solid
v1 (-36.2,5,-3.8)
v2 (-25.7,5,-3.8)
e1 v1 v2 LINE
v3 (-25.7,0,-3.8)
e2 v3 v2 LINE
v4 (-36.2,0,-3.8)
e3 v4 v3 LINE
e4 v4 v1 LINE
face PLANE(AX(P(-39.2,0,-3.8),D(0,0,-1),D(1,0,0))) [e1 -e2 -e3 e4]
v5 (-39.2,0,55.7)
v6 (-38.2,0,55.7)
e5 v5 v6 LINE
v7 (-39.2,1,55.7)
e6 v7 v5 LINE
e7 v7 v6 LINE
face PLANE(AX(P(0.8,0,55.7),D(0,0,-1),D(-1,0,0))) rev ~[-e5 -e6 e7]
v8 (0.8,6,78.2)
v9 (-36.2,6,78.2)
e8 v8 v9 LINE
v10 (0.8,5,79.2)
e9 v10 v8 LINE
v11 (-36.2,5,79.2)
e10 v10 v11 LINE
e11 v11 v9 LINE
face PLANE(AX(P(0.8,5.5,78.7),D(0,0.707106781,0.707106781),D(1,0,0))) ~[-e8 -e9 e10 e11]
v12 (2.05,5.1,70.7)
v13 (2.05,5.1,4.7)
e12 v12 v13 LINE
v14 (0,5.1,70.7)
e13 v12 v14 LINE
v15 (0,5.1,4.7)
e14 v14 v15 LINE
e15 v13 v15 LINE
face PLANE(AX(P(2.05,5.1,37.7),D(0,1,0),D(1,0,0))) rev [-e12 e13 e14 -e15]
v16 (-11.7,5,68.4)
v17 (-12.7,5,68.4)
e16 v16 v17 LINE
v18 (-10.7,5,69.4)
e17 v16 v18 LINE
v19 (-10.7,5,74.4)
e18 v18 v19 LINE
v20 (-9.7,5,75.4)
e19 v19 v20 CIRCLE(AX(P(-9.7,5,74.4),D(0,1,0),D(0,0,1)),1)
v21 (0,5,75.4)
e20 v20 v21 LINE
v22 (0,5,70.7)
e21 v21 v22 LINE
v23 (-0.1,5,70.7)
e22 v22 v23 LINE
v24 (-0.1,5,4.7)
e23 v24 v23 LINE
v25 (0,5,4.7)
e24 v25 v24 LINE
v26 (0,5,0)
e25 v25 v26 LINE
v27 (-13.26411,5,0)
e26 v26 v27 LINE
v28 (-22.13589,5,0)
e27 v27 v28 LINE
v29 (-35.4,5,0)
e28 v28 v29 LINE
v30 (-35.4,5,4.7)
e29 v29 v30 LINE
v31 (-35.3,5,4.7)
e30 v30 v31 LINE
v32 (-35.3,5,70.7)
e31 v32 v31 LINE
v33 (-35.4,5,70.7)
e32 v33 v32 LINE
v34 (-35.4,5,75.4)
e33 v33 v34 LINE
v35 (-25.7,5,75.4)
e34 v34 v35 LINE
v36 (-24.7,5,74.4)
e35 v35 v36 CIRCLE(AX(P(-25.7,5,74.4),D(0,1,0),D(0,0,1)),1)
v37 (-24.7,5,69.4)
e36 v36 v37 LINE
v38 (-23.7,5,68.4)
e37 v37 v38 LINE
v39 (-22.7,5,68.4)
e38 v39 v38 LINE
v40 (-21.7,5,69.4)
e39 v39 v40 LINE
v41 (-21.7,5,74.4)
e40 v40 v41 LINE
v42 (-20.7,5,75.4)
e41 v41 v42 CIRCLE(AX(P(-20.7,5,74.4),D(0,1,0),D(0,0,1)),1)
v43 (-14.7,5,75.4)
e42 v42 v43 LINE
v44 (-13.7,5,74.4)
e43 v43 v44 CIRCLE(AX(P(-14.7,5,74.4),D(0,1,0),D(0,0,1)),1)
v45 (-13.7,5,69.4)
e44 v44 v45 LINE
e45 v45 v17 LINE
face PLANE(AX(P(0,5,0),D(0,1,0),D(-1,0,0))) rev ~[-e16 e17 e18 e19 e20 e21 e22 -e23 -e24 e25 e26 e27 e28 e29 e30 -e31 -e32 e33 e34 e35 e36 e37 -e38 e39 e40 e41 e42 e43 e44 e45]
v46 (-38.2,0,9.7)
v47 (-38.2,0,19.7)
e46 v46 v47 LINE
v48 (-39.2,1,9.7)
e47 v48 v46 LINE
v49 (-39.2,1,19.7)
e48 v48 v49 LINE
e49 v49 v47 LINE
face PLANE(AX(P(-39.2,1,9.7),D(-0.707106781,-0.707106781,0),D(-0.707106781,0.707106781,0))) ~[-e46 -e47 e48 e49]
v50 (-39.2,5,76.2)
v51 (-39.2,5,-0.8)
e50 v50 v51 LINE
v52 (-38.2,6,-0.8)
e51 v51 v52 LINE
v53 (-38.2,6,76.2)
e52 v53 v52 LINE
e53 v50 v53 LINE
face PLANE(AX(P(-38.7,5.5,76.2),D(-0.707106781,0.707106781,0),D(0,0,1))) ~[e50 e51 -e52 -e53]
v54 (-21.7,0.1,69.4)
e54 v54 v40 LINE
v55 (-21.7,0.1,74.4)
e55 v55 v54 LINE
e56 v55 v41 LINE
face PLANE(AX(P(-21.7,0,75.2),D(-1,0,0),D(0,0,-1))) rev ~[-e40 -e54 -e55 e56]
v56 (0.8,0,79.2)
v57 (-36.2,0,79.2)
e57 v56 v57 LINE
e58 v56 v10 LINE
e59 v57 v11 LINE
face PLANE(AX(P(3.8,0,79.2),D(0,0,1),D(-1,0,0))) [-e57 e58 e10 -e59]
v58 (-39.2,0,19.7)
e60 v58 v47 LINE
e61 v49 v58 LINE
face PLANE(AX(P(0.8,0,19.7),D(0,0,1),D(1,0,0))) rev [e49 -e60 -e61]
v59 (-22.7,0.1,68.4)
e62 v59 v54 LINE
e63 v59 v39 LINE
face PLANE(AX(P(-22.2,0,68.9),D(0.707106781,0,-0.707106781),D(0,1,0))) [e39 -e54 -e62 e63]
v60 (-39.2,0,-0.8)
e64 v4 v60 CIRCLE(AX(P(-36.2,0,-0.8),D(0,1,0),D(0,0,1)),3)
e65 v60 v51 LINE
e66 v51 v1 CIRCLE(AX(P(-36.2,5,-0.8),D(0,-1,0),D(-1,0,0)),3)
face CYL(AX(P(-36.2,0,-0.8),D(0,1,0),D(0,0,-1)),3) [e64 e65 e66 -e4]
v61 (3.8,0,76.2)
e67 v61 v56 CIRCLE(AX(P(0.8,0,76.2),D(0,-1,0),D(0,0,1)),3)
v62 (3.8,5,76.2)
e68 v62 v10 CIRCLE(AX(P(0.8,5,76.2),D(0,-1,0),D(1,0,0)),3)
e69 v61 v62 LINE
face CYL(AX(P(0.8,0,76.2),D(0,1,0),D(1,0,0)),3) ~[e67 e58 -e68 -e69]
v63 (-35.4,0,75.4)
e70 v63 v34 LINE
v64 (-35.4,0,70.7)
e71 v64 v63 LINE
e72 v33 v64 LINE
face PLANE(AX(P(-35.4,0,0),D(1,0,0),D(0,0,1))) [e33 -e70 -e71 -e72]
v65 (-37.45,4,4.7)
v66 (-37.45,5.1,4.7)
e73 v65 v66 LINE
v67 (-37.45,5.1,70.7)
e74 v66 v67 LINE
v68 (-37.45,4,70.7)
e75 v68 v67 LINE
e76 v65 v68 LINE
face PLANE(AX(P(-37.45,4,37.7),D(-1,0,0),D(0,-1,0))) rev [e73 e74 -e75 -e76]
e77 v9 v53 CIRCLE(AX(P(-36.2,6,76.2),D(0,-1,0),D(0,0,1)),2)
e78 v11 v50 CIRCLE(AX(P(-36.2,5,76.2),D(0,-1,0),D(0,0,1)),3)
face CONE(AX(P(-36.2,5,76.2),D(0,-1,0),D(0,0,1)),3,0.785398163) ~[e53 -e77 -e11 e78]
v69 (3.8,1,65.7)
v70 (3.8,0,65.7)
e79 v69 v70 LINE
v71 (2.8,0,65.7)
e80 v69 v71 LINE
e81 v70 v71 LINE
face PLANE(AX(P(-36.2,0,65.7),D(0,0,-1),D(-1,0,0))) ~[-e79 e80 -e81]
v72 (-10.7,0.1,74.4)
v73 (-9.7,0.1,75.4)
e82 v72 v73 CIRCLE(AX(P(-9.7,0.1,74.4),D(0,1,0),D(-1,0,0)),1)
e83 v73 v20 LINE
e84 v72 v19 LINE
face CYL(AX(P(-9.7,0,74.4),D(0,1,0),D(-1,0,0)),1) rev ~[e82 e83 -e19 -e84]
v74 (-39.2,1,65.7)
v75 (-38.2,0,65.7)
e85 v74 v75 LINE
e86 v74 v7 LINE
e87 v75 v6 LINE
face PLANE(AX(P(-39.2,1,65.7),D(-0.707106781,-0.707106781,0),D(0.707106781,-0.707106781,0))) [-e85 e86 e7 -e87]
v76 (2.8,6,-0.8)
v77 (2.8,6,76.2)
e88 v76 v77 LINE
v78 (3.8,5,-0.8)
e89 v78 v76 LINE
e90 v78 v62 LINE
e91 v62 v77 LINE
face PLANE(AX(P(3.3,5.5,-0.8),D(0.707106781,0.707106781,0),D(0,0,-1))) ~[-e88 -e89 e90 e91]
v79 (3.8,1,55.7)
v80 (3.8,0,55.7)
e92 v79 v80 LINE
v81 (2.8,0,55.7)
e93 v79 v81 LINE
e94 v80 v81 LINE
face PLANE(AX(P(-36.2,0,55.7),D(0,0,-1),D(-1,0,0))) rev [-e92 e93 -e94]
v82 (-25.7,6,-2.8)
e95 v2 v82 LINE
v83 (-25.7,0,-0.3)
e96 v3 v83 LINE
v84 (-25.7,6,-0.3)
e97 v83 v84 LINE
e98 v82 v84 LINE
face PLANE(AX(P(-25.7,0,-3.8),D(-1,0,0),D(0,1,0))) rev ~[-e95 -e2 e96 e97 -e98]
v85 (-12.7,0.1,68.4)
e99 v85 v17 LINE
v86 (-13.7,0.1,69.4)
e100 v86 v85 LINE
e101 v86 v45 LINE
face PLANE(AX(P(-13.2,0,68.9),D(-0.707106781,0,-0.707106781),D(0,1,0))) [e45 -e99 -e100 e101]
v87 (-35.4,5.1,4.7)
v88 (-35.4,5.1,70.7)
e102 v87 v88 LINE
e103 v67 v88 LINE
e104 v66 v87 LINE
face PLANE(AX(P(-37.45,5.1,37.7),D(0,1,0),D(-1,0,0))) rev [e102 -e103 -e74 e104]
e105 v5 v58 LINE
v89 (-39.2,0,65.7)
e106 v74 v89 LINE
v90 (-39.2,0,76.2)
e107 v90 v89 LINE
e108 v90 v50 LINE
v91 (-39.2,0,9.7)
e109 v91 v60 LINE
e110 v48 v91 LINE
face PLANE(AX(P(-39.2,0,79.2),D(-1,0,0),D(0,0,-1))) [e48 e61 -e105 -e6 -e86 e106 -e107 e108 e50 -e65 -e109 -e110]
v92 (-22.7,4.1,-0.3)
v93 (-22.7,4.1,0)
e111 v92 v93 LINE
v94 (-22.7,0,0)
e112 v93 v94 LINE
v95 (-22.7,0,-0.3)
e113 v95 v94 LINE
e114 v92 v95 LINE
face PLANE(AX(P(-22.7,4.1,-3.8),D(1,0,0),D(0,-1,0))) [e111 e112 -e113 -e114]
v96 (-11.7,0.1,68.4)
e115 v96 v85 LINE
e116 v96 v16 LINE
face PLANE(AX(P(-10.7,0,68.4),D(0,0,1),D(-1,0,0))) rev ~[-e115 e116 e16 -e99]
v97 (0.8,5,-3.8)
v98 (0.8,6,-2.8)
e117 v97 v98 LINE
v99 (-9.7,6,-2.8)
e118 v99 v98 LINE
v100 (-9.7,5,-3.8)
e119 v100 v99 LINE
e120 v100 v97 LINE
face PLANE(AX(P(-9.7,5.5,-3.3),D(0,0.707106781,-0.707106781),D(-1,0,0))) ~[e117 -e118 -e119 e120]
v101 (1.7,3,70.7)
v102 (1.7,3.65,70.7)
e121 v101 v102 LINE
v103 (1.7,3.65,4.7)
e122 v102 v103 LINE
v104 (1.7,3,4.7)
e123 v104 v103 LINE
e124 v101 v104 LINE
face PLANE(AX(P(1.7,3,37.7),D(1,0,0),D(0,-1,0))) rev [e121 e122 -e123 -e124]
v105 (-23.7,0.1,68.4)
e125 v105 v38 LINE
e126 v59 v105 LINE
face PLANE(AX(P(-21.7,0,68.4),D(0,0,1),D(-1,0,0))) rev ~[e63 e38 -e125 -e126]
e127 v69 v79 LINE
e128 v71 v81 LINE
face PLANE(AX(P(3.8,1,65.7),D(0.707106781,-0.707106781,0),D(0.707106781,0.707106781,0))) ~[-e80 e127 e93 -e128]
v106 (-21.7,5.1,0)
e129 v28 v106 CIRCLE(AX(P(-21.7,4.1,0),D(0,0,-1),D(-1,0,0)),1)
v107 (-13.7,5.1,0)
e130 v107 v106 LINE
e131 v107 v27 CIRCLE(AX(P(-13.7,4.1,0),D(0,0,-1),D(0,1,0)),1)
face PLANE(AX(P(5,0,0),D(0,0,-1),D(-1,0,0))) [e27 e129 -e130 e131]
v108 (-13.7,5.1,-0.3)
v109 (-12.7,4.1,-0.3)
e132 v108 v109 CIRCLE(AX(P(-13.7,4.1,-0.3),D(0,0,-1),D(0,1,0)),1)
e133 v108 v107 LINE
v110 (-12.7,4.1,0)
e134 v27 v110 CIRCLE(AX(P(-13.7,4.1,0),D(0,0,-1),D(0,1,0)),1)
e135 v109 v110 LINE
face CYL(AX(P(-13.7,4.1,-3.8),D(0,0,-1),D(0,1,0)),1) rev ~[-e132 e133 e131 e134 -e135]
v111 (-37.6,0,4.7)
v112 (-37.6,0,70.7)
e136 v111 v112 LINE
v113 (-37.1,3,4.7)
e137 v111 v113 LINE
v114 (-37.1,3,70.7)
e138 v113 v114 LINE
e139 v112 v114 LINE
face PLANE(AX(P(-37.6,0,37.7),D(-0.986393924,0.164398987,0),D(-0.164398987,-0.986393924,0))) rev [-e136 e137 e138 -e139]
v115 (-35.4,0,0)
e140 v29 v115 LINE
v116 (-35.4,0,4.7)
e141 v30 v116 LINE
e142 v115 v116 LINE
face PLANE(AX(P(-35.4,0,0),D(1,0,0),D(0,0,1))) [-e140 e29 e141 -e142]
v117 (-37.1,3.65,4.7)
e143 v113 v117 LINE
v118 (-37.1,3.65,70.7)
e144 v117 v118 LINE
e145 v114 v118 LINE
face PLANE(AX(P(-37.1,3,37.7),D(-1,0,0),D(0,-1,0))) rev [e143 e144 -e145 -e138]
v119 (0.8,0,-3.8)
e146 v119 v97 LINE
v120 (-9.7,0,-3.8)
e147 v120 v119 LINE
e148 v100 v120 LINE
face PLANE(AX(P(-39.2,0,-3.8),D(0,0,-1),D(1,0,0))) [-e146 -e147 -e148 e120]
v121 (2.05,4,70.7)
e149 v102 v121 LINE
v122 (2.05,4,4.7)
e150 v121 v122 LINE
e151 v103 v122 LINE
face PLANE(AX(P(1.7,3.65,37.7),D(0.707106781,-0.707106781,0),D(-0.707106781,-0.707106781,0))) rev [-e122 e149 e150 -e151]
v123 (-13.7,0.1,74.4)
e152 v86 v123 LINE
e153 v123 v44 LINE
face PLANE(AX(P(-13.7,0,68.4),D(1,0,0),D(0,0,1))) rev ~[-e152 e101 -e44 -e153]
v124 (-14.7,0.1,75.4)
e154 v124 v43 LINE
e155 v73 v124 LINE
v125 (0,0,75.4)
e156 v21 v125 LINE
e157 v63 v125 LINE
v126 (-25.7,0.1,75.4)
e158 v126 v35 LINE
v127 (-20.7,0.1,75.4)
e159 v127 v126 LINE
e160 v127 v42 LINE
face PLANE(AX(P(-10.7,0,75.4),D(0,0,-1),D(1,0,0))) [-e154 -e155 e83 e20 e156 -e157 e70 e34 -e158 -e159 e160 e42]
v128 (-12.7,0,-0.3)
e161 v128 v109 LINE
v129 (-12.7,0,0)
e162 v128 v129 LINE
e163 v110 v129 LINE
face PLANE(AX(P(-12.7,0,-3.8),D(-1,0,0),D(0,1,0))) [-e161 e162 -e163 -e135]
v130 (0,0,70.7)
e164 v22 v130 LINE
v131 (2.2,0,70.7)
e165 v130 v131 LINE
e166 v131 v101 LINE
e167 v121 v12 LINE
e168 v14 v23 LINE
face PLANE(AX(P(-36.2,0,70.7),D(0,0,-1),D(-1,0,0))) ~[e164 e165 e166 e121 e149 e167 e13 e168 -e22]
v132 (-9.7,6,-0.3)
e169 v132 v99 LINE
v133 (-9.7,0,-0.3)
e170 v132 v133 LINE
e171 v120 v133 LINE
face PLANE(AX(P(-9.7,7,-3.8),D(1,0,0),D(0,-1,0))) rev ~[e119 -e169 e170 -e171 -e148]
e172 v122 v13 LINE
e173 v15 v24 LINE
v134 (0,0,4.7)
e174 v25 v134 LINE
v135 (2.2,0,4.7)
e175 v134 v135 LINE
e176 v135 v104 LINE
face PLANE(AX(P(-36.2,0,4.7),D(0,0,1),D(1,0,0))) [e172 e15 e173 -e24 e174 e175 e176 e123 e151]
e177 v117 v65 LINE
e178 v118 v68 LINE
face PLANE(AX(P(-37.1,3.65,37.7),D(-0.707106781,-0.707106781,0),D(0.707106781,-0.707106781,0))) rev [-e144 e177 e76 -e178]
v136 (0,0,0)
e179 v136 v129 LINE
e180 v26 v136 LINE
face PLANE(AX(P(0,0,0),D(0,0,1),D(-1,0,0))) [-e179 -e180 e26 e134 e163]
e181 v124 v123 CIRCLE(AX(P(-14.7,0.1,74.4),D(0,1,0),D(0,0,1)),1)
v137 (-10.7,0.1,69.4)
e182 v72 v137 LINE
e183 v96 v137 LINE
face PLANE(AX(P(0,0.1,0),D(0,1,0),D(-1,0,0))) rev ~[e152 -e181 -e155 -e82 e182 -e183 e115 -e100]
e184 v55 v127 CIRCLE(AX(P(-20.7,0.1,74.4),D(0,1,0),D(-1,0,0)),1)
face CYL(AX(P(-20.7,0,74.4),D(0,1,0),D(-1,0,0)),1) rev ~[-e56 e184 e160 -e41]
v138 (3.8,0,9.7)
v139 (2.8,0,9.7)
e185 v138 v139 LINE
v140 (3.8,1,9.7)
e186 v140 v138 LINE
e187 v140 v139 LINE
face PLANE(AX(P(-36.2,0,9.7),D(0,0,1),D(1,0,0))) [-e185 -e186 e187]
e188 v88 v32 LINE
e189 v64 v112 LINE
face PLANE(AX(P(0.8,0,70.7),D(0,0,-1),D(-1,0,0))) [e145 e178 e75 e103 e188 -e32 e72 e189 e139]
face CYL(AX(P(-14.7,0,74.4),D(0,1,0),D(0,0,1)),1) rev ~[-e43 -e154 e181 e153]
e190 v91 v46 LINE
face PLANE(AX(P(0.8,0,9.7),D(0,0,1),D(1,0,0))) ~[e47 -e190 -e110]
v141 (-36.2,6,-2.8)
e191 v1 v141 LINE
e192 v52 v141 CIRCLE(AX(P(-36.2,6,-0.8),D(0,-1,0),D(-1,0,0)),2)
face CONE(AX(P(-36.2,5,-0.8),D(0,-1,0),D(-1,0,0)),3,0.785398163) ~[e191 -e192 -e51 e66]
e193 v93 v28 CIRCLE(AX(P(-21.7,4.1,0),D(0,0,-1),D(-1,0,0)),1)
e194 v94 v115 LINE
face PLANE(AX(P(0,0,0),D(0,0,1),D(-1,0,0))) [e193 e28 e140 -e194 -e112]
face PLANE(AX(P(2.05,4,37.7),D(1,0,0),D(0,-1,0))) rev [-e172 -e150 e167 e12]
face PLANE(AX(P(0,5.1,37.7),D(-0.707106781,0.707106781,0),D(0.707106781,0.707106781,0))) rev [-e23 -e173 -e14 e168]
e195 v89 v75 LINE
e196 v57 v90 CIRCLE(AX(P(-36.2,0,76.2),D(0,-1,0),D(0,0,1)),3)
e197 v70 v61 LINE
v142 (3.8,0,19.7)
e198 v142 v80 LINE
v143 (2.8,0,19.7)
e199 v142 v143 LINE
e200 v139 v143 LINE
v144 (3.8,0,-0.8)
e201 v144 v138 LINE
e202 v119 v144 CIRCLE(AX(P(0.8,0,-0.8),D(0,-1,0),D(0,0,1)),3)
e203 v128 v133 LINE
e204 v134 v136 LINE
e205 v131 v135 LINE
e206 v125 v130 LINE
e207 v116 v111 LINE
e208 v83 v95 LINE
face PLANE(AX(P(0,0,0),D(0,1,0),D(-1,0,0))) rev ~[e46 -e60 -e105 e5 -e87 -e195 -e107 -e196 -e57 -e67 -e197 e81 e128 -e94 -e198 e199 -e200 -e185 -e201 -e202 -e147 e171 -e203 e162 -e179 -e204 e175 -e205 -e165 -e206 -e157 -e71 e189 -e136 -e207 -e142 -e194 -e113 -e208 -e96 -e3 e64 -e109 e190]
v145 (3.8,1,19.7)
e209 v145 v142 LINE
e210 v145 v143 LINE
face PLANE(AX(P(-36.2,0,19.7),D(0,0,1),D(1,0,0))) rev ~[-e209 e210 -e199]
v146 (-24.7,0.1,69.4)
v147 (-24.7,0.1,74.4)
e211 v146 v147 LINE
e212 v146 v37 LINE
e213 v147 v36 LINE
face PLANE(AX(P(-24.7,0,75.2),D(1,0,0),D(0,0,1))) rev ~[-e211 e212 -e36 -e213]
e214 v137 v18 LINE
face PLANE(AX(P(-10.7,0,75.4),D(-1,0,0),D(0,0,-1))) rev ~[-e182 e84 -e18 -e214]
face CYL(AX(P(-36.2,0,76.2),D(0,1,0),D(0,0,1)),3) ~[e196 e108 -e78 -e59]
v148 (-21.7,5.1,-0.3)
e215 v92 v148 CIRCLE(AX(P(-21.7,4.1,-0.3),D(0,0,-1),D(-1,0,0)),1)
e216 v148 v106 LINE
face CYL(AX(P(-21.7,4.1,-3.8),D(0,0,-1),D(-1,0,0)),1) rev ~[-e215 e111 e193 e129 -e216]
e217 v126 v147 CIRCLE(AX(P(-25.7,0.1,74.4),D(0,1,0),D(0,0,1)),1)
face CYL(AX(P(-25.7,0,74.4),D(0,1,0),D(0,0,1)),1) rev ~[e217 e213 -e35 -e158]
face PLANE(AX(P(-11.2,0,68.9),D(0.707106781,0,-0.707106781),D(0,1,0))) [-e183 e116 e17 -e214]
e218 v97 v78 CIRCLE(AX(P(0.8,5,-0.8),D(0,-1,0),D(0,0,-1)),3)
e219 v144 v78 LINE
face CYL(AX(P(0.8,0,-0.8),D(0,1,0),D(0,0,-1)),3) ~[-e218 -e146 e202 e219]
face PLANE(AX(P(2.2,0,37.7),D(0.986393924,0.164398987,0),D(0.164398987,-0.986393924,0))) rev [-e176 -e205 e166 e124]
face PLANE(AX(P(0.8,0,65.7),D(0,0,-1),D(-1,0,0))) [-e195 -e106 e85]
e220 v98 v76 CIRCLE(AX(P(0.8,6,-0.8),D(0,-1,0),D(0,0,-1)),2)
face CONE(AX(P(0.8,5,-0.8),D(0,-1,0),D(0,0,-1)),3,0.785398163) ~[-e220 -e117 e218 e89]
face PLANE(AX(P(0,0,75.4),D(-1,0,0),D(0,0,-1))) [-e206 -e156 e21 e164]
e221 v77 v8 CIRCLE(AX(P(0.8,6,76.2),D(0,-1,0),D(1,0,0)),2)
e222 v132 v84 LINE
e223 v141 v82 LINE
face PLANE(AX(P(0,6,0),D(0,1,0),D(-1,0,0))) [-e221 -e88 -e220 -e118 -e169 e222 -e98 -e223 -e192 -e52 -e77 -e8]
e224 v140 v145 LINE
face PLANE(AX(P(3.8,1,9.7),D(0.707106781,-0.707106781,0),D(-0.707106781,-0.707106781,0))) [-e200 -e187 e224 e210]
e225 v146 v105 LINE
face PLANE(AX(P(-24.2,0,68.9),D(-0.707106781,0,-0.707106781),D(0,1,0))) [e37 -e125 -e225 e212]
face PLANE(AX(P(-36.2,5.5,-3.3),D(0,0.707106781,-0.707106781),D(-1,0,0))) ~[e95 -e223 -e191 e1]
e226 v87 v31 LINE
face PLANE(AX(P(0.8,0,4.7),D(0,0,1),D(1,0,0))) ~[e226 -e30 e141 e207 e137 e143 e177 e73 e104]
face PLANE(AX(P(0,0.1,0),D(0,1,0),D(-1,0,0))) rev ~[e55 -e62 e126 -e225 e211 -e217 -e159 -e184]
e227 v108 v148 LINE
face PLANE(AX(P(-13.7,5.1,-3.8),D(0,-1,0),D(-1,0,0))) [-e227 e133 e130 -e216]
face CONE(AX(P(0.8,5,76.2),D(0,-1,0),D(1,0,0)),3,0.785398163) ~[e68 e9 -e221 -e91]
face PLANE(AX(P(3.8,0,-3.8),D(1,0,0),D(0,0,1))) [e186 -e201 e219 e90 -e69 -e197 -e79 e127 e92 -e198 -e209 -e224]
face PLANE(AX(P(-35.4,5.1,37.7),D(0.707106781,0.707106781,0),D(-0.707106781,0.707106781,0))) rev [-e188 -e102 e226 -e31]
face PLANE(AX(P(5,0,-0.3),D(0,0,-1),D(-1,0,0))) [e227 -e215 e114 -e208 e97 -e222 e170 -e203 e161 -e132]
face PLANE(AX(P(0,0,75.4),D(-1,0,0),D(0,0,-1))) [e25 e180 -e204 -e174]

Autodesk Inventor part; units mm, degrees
ref_plane "YZ Plane" through (0, 0, 0) normal (1, 0, 0) x (0, 1, 0)
sketch "Sketch1" plane through (0, 0, 0) normal (0, 1, 0) x (-1, 0, 0)
  line L0 (0, 0) -> (35.4, 0)
  line L1 (35.4, 0) -> (35.4, 75.4)
  line L2 (35.4, 75.4) -> (0, 75.4)
  line L3 (0, 75.4) -> (0, 0)
  line L4 (39.2, -3.8) -> (-3.8, -3.8)
  line L5 (-3.8, -3.8) -> (-3.8, 79.2)
  line L6 (-3.8, 79.2) -> (39.2, 79.2)
  line L7 (39.2, 79.2) -> (39.2, -3.8)
  line L8 (39.2, 37.7) -> (49.7975, 37.7) construction
  line L9 (17.7, 79.2) -> (17.7, 95.7522) construction
  line L10 (24.7, 75.4) -> (21.7, 75.4)
  line L11 (21.7, 75.4) -> (21.7, 68.4)
  line L12 (21.7, 68.4) -> (24.7, 68.4)
  line L13 (24.7, 68.4) -> (24.7, 75.4)
  line L14 (13.7, 75.4) -> (10.7, 75.4)
  line L15 (10.7, 75.4) -> (10.7, 68.4)
  line L16 (10.7, 68.4) -> (13.7, 68.4)
  line L17 (13.7, 68.4) -> (13.7, 75.4)
  line L18 (0.2, 75.2) -> (35.2, 75.2)
  line L19 (35.2, 75.2) -> (35.2, 0.2)
  line L20 (35.2, 0.2) -> (0.2, 0.2)
  line L21 (0.2, 0.2) -> (0.2, 75.2)
  point P0 (21.7, 75.4)
  point P1 (10.7, 75.4)
  dimension "d43" = 4
  dimension "d44" = 4
  dimension "d45" = 7
  dimension "d46" = 3
  dimension "d47" = 3
  dimension "d74" = 0.2
  dimension "d75" = 75
  dimension "d76" = 35
  dimension "d77" = 4
extrude "Extrusion1" add sketch "Sketch1" along normal blind 6 contours L3 L2 L15 L18 L21 L20 L19 L13 L1 L0 | L2 L17 L18 L15 | L13 L18 L11 L2 | L2 L11 L18 L17 | L18 L17 L16 L15 | L15 L16 L17 L18 L11 L12 L13 L19 L20 L21 | L13 L12 L11 L18 | L4 L5 L6 L7
extrude "Extrusion2" cut sketch "Sketch1" along normal blind 5 contours L3 L2 L15 L18 L21 L20 L19 L13 L1 L0 | L2 L11 L18 L17 | L15 L16 L17 L18 L11 L12 L13 L19 L20 L21
sketch "Sketch3" plane through (5, 0, -3.8) normal (0, 0, -1) x (-1, 0, 0)
  line L0 (22.7, 10) -> (22.7, 15.0736) construction
  line L1 (29.7, 8) -> (15.7, 8)
  line L2 (14.7, 7) -> (14.7, 0)
  line L3 (30.7, 0) -> (30.7, 7)
  arc A0 (30.7, 7) -> (29.7, 8) centre (29.7, 7) ccw
  arc A1 (15.7, 8) -> (14.7, 7) centre (15.7, 7) ccw
  line L4 (30.7, 0) -> (14.7, 0)
  line L5 (1.2, 0) -> (44.2, 0) projected
  line L6 (44.2, 0) -> (1.2, 0) projected
  line L7 (17.7, 0) -> (17.7, 4.1)
  line L8 (18.7, 5.1) -> (26.7, 5.1)
  line L9 (27.7, 4.1) -> (27.7, 0)
  arc A2 (18.7, 5.1) -> (17.7, 4.1) centre (18.7, 4.1) ccw
  arc A3 (27.7, 4.1) -> (26.7, 5.1) centre (26.7, 4.1) ccw
  line L10 (1.2, 0) -> (1.2, 6) projected
  line L11 (44.2, 0) -> (44.2, 6) projected
  point P0 (30.5, 8)
  point P1 (14.5, 8)
  point P2 (17.7, 0)
  dimension "d15" = 8
  dimension "d16" = 8
  dimension "d19" = 1
  dimension "d27" = 5.1
  dimension "d28" = 5
  dimension "d29" = 5
  dimension "d30" = 1
  dimension "d33" = 21.5
  dimension "d34" = 43
  dimension "d35" = 8
extrude "Extrusion3" cut sketch "Sketch3" against normal up to surface (3.8 mm away) contours L4 L7 A2 L8 A3 L9
extrude "Extrusion4" cut sketch "Sketch3" against normal blind 3.5 contours A0 L3 L4 L9 A3 L8 A2 L7 L2 A1 L1
fillet "Fillet1" radius 3 4 edges at (3.8, 3, -3.8) (-39.2, 3, -3.8) (3.8, 3, 79.2) (-39.2, 3, 79.2)
chamfer "Chamfer3" distance 1 angle 45 9 edges at (-30.95, 6, -3.8) (-4.45, 6, -3.8) (-38.3213, 6, -2.9213) (-39.2, 6, 37.7) (-38.3213, 6, 78.3213) (-17.7, 6, 79.2) (2.9213, 6, 78.3213) (3.8, 6, 37.7) (2.9213, 6, -2.9213)
fillet "Fillet2" radius 1 4 edges at (-24.7, 2.5, 75.4) (-21.7, 2.5, 75.4) (-13.7, 2.5, 75.4) (-10.7, 2.5, 75.4)
chamfer "Chamfer5" distance 1 angle 45 4 edges at (-24.7, 2.5, 68.4) (-21.7, 2.5, 68.4) (-13.7, 2.5, 68.4) (-10.7, 2.5, 68.4)
ref_plane "Work Plane2" through (0.8, 0, 67.7) normal (0, 0, -1) x (-1, 0, 0)
ref_plane "Work Plane1" through (0.8, 0, 37.7) normal (0, 0, -1) x (-1, 0, 0)
ref_plane "Work Plane3" through (-17.7, 0, 76.2) normal (1, 0, 0) x (0, 0, -1)
ref_plane "Work Plane4" through (0.8, 0, 65.7) normal (0, 0, -1) x (-1, 0, 0)
sketch "Sketch4" plane through (0.8, 0, 37.7) normal (0, 0, -1) x (-1, 0, 0)
  line L0 (36.2, 0) -> (36.2, 5) projected
  line L1 (36.2, 0) -> (37.8, 0) construction
  line L2 (40, 0) -> (36.2, 0) projected
  line L3 (37.8, 0) -> (37.8, 5) construction
  line L4 (38.15, 4.65) -> (38.15, 3.9) construction
  line L5 (37.8, 5) -> (36.2, 5) construction
  line L6 (37.8, 5) -> (38.15, 4.65) construction
  line L7 (38.15, 3.9) -> (37.8, 3.55) construction
  line L8 (38.4, 0) -> (37.9, 3)
  line L9 (37.9, 3) -> (37.9, 3.65)
  line L10 (37.9, 3.65) -> (38.25, 4)
  line L11 (38.25, 4) -> (38.25, 5.1)
  line L12 (36.2, 0) -> (0.8, 0) projected
  line L13 (38.4, 0) -> (36.2, 0)
  line L14 (36.2, 0) -> (36.2, 5)
  line L15 (38.25, 5.1) -> (36.2, 5.1)
  line L16 (36.2, 5.1) -> (36.2, 5)
  line L17 (37, 0) -> (37, 5) projected
  line L18 (36.2, 5.1) -> (36.1, 5)
  line L19 (36.2, 5) -> (26.5, 5) projected
  line L20 (36.2, 5) -> (36.1, 5)
  dimension "d53" = 1.6
  dimension "d54" = 5
  dimension "d55" = 0.35
  dimension "d58" = 45
  dimension "d59" = 45
  dimension "d60" = 1.1
  dimension "d61" = 0.1
  dimension "d62" = 0.6
  dimension "d63" = 3
  dimension "d64" = 0.1
  dimension "d83" = 135
  dimension "d84" = 0.1
sketch "Sketch5" plane through (0.8, 0, 67.7) normal (0, 0, -1) x (-1, 0, 0)
  line L0 (40, 5) -> (40, 0) projected
  line L1 (40, 1) -> (39, 0)
  line L2 (40, 0) -> (37, 0) projected
  line L3 (40, 1) -> (40, 0)
  line L4 (39, 0) -> (40, 0)
  point P0 (0.8, 0)
  dimension "d65" = 45
  dimension "d66" = 1
extrude "Extrusion5" cut sketch "Sketch5" along normal blind 10 from surface at 2
extrude "Extrusion6" cut sketch "Sketch4" against normal blind 33 and the other way blind 3.5
mirror "Mirror1" about plane through (0.8, 0, 37.7) normal (0, 0, -1) of "Extrusion6", "Extrusion5"
mirror "Mirror2" about plane through (-17.7, 0, 76.2) normal (1, 0, 0) of "Extrusion6", "Extrusion5", "Mirror1"
extrude "Extrusion7" cut sketch "Sketch1" along normal blind 0.1 contours L3 L2 L15 L18 L21 L20 L19 L13 L1 L0 | L2 L17 L18 L15 | L13 L18 L11 L2 | L2 L11 L18 L17 | L18 L17 L16 L15 | L15 L16 L17 L18 L11 L12 L13 L19 L20 L21 | L13 L12 L11 L18
equation "\"d43\" = d44"
equation "\"d47\" = d46"
equation "\"d16\" = d15"
equation "\"d29\" = d28"
equation "\"d33\" = 0.5 * d34"
properties part number "scatola_v2_sopra"
